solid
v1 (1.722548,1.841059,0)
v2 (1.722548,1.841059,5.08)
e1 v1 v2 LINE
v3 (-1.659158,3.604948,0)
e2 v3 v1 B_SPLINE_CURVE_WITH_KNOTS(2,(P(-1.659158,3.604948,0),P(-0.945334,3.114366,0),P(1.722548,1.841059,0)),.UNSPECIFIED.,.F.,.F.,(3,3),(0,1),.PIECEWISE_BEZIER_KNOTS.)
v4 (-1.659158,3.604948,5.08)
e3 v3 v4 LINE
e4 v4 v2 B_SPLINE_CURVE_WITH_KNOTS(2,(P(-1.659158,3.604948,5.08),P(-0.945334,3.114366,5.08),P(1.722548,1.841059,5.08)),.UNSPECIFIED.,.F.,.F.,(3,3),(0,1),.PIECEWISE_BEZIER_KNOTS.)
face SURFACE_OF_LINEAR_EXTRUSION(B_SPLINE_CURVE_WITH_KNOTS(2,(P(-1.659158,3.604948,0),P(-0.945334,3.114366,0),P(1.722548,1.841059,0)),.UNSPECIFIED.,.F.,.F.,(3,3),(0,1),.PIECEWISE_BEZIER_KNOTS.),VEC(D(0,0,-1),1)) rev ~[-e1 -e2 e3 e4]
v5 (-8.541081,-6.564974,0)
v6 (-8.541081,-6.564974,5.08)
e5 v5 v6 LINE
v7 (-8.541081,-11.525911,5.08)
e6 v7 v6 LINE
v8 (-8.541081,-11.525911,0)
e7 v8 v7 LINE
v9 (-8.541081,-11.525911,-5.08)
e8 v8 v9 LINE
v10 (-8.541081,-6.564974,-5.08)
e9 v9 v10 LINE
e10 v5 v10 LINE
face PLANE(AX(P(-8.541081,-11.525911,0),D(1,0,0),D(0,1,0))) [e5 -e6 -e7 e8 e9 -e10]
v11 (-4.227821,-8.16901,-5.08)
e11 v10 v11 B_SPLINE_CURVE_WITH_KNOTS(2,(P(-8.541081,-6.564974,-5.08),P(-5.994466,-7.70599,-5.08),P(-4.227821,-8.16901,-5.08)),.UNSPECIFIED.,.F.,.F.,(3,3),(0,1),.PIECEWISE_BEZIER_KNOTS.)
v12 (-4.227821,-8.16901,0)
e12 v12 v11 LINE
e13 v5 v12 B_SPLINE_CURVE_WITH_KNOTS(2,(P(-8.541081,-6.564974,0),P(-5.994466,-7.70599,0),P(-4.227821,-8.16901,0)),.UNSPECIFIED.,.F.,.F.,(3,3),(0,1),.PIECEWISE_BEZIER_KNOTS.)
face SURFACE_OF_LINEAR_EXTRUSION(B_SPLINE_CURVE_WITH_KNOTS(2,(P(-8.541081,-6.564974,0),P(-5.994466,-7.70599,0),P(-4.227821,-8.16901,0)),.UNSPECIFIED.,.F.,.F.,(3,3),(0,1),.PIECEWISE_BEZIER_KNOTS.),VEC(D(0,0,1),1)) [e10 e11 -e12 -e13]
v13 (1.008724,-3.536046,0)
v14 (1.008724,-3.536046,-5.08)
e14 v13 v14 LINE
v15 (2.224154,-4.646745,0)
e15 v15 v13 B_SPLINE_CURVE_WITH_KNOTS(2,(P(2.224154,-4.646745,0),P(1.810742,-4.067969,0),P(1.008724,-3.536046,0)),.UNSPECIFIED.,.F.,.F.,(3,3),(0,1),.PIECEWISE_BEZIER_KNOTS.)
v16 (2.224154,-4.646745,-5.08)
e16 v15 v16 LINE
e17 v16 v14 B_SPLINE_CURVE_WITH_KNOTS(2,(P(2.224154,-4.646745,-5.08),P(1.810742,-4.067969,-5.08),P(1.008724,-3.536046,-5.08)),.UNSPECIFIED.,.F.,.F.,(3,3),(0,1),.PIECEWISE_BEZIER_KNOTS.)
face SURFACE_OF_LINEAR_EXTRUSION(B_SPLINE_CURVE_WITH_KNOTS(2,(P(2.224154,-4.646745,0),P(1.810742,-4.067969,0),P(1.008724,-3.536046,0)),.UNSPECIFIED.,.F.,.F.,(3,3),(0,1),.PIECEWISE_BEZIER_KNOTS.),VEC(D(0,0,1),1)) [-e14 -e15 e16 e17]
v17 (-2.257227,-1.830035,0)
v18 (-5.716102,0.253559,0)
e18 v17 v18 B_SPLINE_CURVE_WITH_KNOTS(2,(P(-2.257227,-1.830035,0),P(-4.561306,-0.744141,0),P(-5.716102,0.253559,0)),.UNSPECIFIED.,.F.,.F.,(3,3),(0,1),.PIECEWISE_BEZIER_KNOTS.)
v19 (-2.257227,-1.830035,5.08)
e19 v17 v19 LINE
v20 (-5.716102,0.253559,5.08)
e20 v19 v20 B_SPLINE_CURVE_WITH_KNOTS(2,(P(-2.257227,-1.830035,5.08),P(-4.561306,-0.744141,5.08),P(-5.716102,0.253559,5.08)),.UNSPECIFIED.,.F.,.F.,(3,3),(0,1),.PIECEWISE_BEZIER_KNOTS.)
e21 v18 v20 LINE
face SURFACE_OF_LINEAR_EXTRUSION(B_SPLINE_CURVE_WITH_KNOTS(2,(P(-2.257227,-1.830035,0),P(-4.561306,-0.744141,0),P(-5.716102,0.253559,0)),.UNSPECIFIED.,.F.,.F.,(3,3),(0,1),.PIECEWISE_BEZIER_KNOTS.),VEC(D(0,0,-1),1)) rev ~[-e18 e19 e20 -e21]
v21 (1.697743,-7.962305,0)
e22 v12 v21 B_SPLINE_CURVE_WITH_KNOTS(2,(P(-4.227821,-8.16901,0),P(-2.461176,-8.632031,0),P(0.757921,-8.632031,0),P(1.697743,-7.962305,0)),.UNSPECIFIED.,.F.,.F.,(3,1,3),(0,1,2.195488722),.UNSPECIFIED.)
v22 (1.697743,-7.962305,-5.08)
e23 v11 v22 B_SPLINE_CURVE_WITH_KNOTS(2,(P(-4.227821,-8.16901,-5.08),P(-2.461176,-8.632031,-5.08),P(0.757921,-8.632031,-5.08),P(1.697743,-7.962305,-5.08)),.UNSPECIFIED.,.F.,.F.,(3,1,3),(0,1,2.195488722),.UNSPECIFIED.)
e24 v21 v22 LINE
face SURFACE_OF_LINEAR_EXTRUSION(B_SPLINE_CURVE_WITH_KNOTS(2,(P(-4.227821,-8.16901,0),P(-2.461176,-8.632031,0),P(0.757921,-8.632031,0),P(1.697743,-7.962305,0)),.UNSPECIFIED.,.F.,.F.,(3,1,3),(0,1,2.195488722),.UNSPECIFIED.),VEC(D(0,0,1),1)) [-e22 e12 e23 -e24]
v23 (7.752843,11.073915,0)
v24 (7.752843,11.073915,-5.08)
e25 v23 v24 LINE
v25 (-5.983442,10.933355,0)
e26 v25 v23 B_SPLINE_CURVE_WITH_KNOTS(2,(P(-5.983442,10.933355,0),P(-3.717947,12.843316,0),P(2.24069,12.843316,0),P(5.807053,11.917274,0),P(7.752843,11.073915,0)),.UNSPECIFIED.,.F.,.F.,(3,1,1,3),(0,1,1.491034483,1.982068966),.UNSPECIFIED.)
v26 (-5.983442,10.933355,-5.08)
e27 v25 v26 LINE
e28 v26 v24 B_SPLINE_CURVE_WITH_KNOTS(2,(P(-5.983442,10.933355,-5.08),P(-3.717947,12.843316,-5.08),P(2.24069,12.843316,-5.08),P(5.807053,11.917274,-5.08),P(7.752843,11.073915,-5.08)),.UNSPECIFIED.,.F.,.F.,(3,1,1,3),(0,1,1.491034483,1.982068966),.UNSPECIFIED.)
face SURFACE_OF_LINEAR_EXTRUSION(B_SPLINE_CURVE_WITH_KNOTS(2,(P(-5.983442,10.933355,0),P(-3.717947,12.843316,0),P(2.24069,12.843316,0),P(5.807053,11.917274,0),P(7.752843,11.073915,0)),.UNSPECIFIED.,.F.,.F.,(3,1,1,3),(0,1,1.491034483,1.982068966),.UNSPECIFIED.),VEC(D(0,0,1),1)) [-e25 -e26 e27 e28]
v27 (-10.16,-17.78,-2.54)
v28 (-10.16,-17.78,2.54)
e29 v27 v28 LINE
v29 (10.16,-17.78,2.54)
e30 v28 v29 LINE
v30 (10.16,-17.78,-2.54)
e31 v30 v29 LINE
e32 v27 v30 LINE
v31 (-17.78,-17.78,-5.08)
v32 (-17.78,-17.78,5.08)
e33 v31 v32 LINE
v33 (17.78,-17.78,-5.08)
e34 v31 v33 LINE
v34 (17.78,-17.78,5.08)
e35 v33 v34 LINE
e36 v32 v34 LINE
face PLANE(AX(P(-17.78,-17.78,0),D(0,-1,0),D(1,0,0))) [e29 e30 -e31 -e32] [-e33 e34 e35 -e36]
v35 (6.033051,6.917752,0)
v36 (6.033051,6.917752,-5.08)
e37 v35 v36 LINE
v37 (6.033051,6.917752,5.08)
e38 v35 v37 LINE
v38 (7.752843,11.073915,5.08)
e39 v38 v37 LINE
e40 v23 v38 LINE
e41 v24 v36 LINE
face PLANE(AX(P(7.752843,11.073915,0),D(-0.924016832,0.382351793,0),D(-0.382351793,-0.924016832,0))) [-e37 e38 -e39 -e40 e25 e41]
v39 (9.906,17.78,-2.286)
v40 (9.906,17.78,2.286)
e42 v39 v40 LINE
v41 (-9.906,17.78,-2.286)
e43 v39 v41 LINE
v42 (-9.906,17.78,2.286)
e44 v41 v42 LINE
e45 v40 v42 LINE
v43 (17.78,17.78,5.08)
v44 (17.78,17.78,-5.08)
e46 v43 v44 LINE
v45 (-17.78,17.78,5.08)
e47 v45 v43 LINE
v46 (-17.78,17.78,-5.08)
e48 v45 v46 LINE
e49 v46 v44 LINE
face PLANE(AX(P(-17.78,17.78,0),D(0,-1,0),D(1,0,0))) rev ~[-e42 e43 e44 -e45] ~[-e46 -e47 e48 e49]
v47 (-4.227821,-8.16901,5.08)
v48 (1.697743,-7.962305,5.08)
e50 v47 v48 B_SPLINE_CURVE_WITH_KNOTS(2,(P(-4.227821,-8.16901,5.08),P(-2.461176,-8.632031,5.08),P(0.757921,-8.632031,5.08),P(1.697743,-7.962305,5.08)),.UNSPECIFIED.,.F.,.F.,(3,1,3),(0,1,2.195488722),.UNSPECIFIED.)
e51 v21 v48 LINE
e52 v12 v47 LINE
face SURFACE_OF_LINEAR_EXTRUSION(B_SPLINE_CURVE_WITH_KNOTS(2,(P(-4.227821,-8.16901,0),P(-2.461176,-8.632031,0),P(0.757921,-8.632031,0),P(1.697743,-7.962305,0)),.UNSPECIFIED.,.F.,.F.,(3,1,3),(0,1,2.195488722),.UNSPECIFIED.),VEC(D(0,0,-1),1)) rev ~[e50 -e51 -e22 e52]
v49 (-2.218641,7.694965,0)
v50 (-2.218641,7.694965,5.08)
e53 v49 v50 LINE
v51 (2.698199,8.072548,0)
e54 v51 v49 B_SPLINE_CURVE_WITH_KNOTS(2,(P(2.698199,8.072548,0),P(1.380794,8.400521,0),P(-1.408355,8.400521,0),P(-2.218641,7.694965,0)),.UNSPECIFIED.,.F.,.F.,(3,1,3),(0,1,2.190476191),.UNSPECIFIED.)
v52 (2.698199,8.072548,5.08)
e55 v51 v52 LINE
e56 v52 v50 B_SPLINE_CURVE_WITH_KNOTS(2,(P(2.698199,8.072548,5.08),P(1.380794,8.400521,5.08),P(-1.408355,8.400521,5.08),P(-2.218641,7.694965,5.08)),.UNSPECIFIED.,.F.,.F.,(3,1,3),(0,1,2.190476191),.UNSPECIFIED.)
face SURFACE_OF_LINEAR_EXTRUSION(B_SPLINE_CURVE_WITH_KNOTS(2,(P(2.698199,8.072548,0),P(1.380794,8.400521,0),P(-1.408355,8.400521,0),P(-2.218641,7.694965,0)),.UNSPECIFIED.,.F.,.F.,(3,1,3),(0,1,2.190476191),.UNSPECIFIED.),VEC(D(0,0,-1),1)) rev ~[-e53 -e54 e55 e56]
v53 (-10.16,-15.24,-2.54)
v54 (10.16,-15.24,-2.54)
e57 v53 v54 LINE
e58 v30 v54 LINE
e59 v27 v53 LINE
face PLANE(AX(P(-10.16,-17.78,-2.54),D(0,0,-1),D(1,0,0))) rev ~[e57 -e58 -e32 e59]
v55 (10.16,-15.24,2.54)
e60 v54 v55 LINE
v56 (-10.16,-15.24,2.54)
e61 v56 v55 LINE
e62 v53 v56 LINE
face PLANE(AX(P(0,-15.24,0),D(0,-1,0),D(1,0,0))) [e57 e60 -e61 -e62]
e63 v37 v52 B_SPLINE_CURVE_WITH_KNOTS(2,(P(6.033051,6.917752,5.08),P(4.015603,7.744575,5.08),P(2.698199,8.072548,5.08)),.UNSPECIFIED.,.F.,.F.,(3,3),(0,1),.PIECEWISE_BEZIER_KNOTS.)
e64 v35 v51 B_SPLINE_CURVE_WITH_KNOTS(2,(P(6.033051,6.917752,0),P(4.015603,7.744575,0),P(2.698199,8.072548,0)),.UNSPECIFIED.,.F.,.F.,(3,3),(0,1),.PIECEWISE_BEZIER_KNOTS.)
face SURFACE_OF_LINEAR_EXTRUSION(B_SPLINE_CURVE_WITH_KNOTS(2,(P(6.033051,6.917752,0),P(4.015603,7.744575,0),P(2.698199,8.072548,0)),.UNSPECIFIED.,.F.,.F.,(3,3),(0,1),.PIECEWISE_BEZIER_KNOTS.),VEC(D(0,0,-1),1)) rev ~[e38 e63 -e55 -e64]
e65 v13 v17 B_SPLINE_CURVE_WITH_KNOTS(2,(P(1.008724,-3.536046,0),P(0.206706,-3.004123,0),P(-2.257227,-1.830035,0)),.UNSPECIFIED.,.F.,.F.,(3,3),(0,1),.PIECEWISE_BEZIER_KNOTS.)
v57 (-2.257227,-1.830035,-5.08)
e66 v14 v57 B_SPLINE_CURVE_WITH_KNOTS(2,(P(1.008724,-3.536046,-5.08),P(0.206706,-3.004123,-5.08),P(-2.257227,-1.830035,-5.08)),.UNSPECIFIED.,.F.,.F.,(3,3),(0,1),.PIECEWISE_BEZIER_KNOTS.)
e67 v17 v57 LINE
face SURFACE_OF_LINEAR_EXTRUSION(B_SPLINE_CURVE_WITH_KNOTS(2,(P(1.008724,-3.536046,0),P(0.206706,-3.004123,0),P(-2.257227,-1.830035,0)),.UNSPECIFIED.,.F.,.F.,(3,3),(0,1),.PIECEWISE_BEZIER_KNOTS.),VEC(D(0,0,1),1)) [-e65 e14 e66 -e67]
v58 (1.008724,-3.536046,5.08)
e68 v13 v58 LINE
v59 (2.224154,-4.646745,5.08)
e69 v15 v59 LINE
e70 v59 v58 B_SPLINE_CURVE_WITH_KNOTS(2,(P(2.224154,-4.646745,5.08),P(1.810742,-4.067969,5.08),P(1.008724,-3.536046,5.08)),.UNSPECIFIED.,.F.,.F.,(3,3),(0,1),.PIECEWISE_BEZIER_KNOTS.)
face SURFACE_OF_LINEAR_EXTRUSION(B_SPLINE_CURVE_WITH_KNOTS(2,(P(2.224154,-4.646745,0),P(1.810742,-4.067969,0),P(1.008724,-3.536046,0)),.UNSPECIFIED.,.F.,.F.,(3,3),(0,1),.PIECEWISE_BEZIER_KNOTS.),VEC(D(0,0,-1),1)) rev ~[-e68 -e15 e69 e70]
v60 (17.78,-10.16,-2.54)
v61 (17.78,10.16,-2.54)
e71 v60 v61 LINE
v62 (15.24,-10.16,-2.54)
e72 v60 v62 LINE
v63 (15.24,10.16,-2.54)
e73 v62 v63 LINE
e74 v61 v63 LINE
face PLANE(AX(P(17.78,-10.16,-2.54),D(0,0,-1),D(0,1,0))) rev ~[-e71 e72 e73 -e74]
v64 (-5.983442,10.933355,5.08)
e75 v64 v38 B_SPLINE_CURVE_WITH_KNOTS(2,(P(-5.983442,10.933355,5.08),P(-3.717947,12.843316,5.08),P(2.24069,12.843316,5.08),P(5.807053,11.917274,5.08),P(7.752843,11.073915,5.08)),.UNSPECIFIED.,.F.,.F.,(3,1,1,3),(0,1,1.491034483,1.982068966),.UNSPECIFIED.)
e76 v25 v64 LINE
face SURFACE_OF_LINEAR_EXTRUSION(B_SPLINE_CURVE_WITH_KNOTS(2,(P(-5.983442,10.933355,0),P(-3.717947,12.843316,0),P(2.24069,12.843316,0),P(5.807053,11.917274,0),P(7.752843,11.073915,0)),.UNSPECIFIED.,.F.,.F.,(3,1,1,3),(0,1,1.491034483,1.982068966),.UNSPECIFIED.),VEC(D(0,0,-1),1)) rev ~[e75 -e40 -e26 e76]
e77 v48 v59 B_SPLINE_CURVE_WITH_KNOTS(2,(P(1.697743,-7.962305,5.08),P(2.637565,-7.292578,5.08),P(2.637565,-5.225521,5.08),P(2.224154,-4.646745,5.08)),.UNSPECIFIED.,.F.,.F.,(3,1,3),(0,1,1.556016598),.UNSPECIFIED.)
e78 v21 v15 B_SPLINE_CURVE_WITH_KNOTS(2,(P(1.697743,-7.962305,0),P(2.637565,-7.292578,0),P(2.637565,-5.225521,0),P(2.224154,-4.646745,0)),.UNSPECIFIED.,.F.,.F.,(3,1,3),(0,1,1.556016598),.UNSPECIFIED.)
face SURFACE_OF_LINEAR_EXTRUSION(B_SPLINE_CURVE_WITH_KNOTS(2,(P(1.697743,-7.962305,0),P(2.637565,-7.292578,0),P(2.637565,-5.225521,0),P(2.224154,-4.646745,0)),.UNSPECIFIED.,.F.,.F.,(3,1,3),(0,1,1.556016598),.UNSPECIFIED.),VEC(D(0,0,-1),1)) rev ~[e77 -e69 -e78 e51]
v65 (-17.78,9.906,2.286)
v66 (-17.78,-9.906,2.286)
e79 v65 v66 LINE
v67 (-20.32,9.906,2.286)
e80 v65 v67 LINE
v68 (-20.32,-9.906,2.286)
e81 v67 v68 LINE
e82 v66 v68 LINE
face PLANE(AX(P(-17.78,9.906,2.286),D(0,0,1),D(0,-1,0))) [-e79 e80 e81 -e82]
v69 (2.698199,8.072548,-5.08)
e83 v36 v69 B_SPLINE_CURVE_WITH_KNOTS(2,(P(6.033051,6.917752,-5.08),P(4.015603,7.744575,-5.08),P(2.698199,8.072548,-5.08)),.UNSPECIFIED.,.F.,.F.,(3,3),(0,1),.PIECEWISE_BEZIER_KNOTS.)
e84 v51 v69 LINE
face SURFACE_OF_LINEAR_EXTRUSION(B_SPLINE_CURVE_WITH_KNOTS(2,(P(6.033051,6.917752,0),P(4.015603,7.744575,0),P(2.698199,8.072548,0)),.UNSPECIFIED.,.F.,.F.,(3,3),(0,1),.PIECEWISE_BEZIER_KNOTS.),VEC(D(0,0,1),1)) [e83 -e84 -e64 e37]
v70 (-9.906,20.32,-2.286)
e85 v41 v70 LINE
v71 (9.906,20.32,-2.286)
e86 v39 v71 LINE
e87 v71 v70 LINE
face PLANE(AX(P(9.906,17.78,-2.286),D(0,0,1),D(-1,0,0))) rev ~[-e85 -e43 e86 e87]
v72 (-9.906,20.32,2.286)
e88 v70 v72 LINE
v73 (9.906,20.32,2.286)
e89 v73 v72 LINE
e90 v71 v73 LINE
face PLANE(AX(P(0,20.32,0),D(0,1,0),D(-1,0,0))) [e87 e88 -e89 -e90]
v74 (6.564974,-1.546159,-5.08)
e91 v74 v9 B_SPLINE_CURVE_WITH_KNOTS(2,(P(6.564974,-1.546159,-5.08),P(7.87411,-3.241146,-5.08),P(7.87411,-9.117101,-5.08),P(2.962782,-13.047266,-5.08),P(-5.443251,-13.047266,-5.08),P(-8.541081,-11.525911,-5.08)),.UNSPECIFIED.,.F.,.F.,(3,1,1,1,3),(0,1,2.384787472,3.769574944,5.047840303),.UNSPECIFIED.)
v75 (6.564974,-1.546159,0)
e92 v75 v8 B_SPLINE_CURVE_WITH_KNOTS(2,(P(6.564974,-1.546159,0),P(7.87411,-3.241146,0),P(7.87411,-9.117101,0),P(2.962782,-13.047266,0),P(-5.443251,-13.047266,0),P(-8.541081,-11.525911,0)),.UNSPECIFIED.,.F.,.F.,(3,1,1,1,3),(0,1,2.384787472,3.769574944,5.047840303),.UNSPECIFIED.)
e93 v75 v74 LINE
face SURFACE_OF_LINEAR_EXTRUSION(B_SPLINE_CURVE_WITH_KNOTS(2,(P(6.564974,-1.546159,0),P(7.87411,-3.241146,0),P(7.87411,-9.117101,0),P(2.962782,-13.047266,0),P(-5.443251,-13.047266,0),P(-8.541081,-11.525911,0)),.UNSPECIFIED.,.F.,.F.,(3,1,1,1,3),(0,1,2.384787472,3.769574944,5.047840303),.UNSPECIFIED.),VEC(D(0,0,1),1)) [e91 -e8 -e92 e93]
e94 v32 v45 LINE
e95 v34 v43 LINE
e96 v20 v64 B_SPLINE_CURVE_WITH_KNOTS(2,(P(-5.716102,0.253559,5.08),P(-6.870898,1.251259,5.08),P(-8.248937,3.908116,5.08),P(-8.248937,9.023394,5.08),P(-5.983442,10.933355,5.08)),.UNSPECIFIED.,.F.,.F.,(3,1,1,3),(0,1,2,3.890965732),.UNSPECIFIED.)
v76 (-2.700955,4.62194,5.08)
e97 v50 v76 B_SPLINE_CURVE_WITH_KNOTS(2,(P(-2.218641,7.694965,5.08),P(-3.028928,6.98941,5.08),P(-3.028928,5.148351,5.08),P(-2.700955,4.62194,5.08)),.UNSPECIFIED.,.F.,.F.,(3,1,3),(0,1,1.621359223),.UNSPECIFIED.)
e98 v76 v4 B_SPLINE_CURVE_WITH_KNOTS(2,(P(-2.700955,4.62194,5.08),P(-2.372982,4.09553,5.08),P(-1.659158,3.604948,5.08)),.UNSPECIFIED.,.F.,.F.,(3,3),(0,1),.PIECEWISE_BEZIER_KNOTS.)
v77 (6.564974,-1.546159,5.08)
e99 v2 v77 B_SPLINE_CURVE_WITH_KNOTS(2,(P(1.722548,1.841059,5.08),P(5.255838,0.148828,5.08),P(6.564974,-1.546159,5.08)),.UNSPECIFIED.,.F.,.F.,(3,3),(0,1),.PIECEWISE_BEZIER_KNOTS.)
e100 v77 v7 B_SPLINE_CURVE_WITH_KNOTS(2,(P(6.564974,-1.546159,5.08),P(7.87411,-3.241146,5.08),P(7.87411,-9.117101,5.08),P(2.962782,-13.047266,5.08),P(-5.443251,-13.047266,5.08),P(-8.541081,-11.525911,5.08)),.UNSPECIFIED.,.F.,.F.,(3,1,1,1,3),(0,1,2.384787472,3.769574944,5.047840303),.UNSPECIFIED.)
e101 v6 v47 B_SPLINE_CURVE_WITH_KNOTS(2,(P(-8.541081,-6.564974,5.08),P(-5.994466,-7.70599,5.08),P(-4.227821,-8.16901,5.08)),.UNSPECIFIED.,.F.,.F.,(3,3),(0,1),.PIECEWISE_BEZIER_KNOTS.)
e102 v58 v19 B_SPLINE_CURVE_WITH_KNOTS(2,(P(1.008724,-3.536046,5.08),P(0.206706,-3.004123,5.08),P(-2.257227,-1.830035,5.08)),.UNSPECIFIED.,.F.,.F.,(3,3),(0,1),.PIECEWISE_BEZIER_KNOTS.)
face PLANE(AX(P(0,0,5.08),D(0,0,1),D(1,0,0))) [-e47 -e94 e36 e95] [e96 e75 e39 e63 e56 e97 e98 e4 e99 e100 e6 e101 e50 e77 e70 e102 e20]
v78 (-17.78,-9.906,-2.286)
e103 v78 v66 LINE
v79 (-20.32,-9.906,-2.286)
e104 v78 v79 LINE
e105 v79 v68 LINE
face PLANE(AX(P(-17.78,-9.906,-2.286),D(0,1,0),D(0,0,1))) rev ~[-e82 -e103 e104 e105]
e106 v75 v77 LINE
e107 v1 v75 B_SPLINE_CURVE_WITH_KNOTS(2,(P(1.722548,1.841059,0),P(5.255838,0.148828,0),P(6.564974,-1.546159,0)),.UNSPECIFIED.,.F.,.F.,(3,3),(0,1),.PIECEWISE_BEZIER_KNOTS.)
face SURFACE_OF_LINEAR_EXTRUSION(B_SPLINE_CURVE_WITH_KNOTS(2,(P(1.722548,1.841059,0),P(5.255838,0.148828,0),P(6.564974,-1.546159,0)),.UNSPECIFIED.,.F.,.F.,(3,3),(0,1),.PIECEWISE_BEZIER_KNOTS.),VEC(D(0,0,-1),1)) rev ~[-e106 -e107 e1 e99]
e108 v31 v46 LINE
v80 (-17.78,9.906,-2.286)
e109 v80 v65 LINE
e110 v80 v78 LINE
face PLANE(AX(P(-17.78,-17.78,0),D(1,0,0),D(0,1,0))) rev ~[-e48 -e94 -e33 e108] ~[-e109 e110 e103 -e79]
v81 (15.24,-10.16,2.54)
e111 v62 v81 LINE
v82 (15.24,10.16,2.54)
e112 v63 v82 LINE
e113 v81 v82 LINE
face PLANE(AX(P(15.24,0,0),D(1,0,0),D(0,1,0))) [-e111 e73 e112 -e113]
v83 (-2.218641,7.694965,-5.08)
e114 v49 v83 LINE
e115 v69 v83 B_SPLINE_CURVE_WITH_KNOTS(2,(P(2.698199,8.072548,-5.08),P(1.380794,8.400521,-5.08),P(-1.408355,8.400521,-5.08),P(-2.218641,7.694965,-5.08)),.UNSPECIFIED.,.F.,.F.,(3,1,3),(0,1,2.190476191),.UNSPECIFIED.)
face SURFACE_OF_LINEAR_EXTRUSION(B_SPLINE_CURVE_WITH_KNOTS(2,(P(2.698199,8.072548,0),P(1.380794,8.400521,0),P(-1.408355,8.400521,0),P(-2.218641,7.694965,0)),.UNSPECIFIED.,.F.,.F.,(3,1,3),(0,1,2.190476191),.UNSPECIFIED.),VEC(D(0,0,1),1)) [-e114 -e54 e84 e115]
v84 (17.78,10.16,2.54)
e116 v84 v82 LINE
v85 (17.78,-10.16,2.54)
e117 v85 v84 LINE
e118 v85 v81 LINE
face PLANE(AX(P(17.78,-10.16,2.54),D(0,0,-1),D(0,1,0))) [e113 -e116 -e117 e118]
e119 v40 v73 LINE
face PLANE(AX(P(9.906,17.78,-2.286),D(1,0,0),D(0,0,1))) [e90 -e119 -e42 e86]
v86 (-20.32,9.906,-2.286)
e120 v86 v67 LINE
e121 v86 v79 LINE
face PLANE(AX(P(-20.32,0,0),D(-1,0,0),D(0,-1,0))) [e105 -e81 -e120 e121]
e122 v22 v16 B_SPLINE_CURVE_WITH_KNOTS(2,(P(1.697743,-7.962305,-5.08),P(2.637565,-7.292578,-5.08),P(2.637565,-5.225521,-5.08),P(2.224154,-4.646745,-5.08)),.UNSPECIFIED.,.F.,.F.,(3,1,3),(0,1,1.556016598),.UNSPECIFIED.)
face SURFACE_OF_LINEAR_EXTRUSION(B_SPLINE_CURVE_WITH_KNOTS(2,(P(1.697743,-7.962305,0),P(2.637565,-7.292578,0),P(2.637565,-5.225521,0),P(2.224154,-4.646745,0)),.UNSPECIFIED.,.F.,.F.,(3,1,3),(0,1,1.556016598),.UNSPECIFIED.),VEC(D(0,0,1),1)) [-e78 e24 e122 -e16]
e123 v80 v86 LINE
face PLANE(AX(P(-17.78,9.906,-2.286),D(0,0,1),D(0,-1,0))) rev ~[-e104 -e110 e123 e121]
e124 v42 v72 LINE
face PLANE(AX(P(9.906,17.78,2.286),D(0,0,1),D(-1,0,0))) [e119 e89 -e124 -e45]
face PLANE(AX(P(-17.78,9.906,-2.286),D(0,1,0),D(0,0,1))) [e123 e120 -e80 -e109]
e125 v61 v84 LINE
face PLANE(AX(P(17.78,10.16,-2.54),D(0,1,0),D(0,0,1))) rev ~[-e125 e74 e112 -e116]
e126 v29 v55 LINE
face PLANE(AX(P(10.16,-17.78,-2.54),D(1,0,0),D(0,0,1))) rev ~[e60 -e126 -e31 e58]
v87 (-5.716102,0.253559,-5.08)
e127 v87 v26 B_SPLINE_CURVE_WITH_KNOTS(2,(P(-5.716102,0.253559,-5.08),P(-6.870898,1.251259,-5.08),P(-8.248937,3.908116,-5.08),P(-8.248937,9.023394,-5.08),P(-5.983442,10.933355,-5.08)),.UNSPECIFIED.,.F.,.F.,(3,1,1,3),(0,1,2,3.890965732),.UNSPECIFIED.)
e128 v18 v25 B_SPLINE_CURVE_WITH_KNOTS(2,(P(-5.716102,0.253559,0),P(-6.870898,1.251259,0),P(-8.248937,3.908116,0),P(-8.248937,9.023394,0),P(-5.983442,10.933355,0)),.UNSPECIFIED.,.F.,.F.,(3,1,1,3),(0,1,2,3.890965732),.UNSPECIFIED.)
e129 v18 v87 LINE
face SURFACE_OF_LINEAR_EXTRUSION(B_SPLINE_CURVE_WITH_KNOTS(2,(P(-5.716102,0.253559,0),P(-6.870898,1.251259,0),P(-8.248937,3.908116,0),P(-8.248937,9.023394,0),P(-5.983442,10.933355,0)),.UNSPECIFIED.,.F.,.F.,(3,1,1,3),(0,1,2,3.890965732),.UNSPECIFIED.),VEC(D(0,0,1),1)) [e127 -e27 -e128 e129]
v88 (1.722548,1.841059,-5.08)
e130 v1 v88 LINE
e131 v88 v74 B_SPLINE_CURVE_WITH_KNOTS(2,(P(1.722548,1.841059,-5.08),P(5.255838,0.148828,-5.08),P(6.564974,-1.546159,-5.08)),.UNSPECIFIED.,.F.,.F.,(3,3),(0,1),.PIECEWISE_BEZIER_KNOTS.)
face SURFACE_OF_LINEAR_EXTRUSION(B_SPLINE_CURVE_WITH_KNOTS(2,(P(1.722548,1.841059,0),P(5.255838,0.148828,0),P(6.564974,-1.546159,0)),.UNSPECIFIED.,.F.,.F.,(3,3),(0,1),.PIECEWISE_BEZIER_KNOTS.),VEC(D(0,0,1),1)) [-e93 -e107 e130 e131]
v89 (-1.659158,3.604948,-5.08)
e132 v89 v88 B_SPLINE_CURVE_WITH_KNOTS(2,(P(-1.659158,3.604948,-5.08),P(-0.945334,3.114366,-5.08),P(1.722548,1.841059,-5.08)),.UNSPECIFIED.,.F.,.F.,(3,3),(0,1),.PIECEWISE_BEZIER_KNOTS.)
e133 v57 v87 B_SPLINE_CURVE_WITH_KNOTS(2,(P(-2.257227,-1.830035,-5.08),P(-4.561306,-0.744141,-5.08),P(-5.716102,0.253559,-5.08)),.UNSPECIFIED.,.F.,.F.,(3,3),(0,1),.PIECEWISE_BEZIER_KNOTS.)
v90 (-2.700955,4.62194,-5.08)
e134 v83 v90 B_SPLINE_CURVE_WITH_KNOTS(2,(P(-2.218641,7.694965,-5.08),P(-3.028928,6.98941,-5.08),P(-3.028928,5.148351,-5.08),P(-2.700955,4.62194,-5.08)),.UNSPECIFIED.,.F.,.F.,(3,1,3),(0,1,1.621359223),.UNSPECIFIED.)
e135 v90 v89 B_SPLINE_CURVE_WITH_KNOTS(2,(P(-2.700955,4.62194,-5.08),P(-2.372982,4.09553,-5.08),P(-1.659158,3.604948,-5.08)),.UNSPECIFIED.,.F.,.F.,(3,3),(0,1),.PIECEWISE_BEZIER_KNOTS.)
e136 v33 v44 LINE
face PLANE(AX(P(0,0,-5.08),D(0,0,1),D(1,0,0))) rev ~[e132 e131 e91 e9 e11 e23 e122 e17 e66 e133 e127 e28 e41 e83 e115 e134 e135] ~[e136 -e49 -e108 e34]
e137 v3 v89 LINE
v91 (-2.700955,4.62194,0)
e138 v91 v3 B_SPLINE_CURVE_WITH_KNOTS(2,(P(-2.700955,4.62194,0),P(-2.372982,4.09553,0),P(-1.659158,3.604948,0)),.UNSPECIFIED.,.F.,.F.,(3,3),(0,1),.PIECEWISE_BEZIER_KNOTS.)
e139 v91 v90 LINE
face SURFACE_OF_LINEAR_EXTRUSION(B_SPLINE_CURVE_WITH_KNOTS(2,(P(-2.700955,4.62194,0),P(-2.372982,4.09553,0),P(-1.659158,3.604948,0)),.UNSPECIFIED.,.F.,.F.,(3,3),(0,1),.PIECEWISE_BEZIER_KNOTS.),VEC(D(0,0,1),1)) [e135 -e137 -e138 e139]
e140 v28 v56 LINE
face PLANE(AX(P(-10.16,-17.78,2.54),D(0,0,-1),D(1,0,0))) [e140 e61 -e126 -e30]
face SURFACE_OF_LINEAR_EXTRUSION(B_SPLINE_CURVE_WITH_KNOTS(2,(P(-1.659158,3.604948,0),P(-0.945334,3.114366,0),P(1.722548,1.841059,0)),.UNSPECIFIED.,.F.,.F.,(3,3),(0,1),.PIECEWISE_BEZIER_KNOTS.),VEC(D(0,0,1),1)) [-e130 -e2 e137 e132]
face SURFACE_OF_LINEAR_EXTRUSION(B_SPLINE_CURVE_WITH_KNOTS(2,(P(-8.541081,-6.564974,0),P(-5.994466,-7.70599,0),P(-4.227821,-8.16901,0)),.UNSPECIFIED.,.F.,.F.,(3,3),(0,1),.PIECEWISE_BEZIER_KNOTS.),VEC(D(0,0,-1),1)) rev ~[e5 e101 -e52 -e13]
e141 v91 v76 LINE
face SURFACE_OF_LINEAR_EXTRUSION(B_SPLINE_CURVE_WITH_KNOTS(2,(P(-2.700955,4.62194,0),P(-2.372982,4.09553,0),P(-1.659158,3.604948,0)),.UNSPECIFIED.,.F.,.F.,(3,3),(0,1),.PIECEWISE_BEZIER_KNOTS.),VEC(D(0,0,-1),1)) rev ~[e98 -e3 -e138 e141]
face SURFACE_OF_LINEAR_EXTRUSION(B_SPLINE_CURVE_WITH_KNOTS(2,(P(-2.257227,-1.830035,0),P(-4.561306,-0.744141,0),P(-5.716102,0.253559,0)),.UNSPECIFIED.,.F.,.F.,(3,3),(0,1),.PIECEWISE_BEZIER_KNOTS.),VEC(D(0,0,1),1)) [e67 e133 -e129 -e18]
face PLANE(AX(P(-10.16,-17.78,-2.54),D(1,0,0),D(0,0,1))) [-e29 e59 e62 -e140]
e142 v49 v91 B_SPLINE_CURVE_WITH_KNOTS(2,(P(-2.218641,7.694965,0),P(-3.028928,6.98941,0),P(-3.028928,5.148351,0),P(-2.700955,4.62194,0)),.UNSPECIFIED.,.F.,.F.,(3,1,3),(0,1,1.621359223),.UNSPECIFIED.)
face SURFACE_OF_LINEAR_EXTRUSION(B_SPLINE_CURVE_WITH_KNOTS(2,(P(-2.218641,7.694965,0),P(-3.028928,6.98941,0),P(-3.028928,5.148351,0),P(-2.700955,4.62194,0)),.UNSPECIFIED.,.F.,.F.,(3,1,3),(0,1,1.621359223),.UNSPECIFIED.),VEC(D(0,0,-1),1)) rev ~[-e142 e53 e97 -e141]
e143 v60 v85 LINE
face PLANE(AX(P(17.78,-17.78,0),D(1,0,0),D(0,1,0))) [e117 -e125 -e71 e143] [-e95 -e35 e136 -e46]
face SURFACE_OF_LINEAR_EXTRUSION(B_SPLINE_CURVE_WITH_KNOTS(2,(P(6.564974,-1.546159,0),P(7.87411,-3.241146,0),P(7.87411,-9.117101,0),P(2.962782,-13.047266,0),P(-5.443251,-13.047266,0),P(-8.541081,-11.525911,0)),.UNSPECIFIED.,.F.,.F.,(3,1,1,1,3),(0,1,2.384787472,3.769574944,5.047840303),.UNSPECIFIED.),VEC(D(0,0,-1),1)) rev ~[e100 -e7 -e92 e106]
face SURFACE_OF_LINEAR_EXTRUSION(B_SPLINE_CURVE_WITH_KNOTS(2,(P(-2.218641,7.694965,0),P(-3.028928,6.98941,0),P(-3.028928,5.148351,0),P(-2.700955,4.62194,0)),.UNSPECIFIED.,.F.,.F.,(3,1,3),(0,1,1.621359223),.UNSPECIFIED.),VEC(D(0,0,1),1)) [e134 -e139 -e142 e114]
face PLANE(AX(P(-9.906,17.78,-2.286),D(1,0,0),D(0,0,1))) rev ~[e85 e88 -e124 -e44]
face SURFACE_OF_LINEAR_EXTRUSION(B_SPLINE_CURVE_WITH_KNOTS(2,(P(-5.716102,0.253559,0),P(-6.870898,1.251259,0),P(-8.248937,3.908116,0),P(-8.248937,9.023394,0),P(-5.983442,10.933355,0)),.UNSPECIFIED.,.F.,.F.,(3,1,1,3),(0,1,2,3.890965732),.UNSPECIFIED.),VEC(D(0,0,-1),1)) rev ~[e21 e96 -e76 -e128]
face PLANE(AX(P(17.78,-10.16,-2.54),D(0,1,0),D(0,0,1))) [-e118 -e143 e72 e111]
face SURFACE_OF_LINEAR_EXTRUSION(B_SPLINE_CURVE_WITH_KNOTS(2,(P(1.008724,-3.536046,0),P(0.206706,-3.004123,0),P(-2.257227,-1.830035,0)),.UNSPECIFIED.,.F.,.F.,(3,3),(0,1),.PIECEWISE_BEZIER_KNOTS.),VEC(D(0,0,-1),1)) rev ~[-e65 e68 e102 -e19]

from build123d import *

# Parameters (mm, degrees)
F0_W     = 35.56
F0_H     = 35.56
F1_DEPTH = 5.08
F2_W     = 19.812
F2_H     = 4.572
F3_DEPTH = 2.54
F4_W     = 19.812
F4_H     = 4.572
F5_DEPTH = 2.54
F6_W     = 20.32
F6_H     = 5.08
F7_DEPTH = 2.54
F8_W     = 20.32
F8_H     = 5.08
F9_DEPTH = 2.54


with BuildPart() as f1:
    # F0 (on Top) → F1 (new body, symmetric)
    with BuildSketch(Plane.XY):
        Rectangle(F0_W, F0_H)
        with BuildLine():
            add(Edge.make_bspline(
                [(6.5649739583, -1.5461588542), (7.8741102431, -3.2411458333), (7.8741102431, -5.705078125)],
                knots=[0, 0, 0, 1, 1, 1], degree=2))
            add(Edge.make_bspline(
                [(7.8741102431, -5.705078125), (7.8741102431, -9.1171006944), (5.4184461806, -11.0821831597)],
                knots=[0, 0, 0, 1, 1, 1], degree=2))
            add(Edge.make_bspline(
                [(5.4184461806, -11.0821831597), (2.9627821181, -13.047265625), (-1.4083550347, -13.047265625)],
                knots=[0, 0, 0, 1, 1, 1], degree=2))
            add(Edge.make_bspline(
                [(-1.4083550347, -13.047265625), (-5.4432508681, -13.047265625), (-8.5410807292, -11.5259114583)],
                knots=[0, 0, 0, 1, 1, 1], degree=2))
            Line((-8.5410807292, -11.5259114583), (-8.5410807292, -6.5649739583))
            add(Edge.make_bspline(
                [(-8.5410807292, -6.5649739583), (-5.9944661458, -7.7059895833), (-4.2278211806, -8.1690104167)],
                knots=[0, 0, 0, 1, 1, 1], degree=2))
            add(Edge.make_bspline(
                [(-4.2278211806, -8.1690104167), (-2.4611762153, -8.63203125), (-0.9949435764, -8.63203125)],
                knots=[0, 0, 0, 1, 1, 1], degree=2))
            add(Edge.make_bspline(
                [(-0.9949435764, -8.63203125), (0.7579210069, -8.63203125), (1.6977430556, -7.9623046875)],
                knots=[0, 0, 0, 1, 1, 1], degree=2))
            add(Edge.make_bspline(
                [(1.6977430556, -7.9623046875), (2.6375651042, -7.292578125), (2.6375651042, -5.9641493056)],
                knots=[0, 0, 0, 1, 1, 1], degree=2))
            add(Edge.make_bspline(
                [(2.6375651042, -5.9641493056), (2.6375651042, -5.2255208333), (2.2241536458, -4.6467447917)],
                knots=[0, 0, 0, 1, 1, 1], degree=2))
            add(Edge.make_bspline(
                [(2.2241536458, -4.6467447917), (1.8107421875, -4.06796875), (1.0087239583, -3.5360460069)],
                knots=[0, 0, 0, 1, 1, 1], degree=2))
            add(Edge.make_bspline(
                [(1.0087239583, -3.5360460069), (0.2067057292, -3.0041232639), (-2.2572265625, -1.8300347222)],
                knots=[0, 0, 0, 1, 1, 1], degree=2))
            add(Edge.make_bspline(
                [(-2.2572265625, -1.8300347222), (-4.5613064236, -0.744140625), (-5.7161024306, 0.2535590278)],
                knots=[0, 0, 0, 1, 1, 1], degree=2))
            add(Edge.make_bspline(
                [(-5.7161024306, 0.2535590278), (-6.8708984375, 1.2512586806), (-7.5599175347, 2.5796875)],
                knots=[0, 0, 0, 1, 1, 1], degree=2))
            add(Edge.make_bspline(
                [(-7.5599175347, 2.5796875), (-8.2489366319, 3.9081163194), (-8.2489366319, 5.6775173611)],
                knots=[0, 0, 0, 1, 1, 1], degree=2))
            add(Edge.make_bspline(
                [(-8.2489366319, 5.6775173611), (-8.2489366319, 9.0233940972), (-5.9834418403, 10.9333550347)],
                knots=[0, 0, 0, 1, 1, 1], degree=2))
            add(Edge.make_bspline(
                [(-5.9834418403, 10.9333550347), (-3.7179470486, 12.8433159722), (0.2783637153, 12.8433159722)],
                knots=[0, 0, 0, 1, 1, 1], degree=2))
            add(Edge.make_bspline(
                [(0.2783637153, 12.8433159722), (2.2406901042, 12.8433159722), (4.0238715278, 12.3802951389)],
                knots=[0, 0, 0, 1, 1, 1], degree=2))
            add(Edge.make_bspline(
                [(4.0238715278, 12.3802951389), (5.8070529514, 11.9172743056), (7.7528428819, 11.0739149306)],
                knots=[0, 0, 0, 1, 1, 1], degree=2))
            Line((7.7528428819, 11.0739149306), (6.0330512153, 6.9177517361))
            add(Edge.make_bspline(
                [(6.0330512153, 6.9177517361), (4.0156032986, 7.7445746528), (2.6981987847, 8.0725477431)],
                knots=[0, 0, 0, 1, 1, 1], degree=2))
            add(Edge.make_bspline(
                [(2.6981987847, 8.0725477431), (1.3807942708, 8.4005208333), (0.1074869792, 8.4005208333)],
                knots=[0, 0, 0, 1, 1, 1], degree=2))
            add(Edge.make_bspline(
                [(0.1074869792, 8.4005208333), (-1.4083550347, 8.4005208333), (-2.2186414931, 7.6949652778)],
                knots=[0, 0, 0, 1, 1, 1], degree=2))
            add(Edge.make_bspline(
                [(-2.2186414931, 7.6949652778), (-3.0289279514, 6.9894097222), (-3.0289279514, 5.85390625)],
                knots=[0, 0, 0, 1, 1, 1], degree=2))
            add(Edge.make_bspline(
                [(-3.0289279514, 5.85390625), (-3.0289279514, 5.1483506944), (-2.7009548611, 4.6219401042)],
                knots=[0, 0, 0, 1, 1, 1], degree=2))
            add(Edge.make_bspline(
                [(-2.7009548611, 4.6219401042), (-2.3729817708, 4.0955295139), (-1.6591579861, 3.6049479167)],
                knots=[0, 0, 0, 1, 1, 1], degree=2))
            add(Edge.make_bspline(
                [(-1.6591579861, 3.6049479167), (-0.9453342014, 3.1143663194), (1.7225477431, 1.8410590278)],
                knots=[0, 0, 0, 1, 1, 1], degree=2))
            add(Edge.make_bspline(
                [(1.7225477431, 1.8410590278), (5.2558376736, 0.148828125), (6.5649739583, -1.5461588542)],
                knots=[0, 0, 0, 1, 1, 1], degree=2))
        make_face(mode=Mode.SUBTRACT)
    extrude(amount=F1_DEPTH, both=True)

    # F2 (on face) → F3 (join)
    with BuildSketch(Plane(origin=(0, 17.78, 0), x_dir=(-1, 0, 0), z_dir=(0, 1, 0))):
        Rectangle(F2_W, F2_H)
    extrude(amount=F3_DEPTH)

    # F4 (on face) → F5 (join)
    with BuildSketch(Plane(origin=(-17.78, 0, 0), x_dir=(0, -1, 0), z_dir=(-1, 0, 0))):
        Rectangle(F4_W, F4_H)
    extrude(amount=F5_DEPTH)

    # F6 (on face) → F7 (cut)
    with BuildSketch(Plane.XZ.offset(17.78)):
        Rectangle(F6_W, F6_H)
    extrude(amount=-F7_DEPTH, mode=Mode.SUBTRACT)

    # F8 (on face) → F9 (cut)
    with BuildSketch(Plane.YZ.offset(17.78)):
        Rectangle(F8_W, F8_H)
    extrude(amount=-F9_DEPTH, mode=Mode.SUBTRACT)


solid = f1.part
